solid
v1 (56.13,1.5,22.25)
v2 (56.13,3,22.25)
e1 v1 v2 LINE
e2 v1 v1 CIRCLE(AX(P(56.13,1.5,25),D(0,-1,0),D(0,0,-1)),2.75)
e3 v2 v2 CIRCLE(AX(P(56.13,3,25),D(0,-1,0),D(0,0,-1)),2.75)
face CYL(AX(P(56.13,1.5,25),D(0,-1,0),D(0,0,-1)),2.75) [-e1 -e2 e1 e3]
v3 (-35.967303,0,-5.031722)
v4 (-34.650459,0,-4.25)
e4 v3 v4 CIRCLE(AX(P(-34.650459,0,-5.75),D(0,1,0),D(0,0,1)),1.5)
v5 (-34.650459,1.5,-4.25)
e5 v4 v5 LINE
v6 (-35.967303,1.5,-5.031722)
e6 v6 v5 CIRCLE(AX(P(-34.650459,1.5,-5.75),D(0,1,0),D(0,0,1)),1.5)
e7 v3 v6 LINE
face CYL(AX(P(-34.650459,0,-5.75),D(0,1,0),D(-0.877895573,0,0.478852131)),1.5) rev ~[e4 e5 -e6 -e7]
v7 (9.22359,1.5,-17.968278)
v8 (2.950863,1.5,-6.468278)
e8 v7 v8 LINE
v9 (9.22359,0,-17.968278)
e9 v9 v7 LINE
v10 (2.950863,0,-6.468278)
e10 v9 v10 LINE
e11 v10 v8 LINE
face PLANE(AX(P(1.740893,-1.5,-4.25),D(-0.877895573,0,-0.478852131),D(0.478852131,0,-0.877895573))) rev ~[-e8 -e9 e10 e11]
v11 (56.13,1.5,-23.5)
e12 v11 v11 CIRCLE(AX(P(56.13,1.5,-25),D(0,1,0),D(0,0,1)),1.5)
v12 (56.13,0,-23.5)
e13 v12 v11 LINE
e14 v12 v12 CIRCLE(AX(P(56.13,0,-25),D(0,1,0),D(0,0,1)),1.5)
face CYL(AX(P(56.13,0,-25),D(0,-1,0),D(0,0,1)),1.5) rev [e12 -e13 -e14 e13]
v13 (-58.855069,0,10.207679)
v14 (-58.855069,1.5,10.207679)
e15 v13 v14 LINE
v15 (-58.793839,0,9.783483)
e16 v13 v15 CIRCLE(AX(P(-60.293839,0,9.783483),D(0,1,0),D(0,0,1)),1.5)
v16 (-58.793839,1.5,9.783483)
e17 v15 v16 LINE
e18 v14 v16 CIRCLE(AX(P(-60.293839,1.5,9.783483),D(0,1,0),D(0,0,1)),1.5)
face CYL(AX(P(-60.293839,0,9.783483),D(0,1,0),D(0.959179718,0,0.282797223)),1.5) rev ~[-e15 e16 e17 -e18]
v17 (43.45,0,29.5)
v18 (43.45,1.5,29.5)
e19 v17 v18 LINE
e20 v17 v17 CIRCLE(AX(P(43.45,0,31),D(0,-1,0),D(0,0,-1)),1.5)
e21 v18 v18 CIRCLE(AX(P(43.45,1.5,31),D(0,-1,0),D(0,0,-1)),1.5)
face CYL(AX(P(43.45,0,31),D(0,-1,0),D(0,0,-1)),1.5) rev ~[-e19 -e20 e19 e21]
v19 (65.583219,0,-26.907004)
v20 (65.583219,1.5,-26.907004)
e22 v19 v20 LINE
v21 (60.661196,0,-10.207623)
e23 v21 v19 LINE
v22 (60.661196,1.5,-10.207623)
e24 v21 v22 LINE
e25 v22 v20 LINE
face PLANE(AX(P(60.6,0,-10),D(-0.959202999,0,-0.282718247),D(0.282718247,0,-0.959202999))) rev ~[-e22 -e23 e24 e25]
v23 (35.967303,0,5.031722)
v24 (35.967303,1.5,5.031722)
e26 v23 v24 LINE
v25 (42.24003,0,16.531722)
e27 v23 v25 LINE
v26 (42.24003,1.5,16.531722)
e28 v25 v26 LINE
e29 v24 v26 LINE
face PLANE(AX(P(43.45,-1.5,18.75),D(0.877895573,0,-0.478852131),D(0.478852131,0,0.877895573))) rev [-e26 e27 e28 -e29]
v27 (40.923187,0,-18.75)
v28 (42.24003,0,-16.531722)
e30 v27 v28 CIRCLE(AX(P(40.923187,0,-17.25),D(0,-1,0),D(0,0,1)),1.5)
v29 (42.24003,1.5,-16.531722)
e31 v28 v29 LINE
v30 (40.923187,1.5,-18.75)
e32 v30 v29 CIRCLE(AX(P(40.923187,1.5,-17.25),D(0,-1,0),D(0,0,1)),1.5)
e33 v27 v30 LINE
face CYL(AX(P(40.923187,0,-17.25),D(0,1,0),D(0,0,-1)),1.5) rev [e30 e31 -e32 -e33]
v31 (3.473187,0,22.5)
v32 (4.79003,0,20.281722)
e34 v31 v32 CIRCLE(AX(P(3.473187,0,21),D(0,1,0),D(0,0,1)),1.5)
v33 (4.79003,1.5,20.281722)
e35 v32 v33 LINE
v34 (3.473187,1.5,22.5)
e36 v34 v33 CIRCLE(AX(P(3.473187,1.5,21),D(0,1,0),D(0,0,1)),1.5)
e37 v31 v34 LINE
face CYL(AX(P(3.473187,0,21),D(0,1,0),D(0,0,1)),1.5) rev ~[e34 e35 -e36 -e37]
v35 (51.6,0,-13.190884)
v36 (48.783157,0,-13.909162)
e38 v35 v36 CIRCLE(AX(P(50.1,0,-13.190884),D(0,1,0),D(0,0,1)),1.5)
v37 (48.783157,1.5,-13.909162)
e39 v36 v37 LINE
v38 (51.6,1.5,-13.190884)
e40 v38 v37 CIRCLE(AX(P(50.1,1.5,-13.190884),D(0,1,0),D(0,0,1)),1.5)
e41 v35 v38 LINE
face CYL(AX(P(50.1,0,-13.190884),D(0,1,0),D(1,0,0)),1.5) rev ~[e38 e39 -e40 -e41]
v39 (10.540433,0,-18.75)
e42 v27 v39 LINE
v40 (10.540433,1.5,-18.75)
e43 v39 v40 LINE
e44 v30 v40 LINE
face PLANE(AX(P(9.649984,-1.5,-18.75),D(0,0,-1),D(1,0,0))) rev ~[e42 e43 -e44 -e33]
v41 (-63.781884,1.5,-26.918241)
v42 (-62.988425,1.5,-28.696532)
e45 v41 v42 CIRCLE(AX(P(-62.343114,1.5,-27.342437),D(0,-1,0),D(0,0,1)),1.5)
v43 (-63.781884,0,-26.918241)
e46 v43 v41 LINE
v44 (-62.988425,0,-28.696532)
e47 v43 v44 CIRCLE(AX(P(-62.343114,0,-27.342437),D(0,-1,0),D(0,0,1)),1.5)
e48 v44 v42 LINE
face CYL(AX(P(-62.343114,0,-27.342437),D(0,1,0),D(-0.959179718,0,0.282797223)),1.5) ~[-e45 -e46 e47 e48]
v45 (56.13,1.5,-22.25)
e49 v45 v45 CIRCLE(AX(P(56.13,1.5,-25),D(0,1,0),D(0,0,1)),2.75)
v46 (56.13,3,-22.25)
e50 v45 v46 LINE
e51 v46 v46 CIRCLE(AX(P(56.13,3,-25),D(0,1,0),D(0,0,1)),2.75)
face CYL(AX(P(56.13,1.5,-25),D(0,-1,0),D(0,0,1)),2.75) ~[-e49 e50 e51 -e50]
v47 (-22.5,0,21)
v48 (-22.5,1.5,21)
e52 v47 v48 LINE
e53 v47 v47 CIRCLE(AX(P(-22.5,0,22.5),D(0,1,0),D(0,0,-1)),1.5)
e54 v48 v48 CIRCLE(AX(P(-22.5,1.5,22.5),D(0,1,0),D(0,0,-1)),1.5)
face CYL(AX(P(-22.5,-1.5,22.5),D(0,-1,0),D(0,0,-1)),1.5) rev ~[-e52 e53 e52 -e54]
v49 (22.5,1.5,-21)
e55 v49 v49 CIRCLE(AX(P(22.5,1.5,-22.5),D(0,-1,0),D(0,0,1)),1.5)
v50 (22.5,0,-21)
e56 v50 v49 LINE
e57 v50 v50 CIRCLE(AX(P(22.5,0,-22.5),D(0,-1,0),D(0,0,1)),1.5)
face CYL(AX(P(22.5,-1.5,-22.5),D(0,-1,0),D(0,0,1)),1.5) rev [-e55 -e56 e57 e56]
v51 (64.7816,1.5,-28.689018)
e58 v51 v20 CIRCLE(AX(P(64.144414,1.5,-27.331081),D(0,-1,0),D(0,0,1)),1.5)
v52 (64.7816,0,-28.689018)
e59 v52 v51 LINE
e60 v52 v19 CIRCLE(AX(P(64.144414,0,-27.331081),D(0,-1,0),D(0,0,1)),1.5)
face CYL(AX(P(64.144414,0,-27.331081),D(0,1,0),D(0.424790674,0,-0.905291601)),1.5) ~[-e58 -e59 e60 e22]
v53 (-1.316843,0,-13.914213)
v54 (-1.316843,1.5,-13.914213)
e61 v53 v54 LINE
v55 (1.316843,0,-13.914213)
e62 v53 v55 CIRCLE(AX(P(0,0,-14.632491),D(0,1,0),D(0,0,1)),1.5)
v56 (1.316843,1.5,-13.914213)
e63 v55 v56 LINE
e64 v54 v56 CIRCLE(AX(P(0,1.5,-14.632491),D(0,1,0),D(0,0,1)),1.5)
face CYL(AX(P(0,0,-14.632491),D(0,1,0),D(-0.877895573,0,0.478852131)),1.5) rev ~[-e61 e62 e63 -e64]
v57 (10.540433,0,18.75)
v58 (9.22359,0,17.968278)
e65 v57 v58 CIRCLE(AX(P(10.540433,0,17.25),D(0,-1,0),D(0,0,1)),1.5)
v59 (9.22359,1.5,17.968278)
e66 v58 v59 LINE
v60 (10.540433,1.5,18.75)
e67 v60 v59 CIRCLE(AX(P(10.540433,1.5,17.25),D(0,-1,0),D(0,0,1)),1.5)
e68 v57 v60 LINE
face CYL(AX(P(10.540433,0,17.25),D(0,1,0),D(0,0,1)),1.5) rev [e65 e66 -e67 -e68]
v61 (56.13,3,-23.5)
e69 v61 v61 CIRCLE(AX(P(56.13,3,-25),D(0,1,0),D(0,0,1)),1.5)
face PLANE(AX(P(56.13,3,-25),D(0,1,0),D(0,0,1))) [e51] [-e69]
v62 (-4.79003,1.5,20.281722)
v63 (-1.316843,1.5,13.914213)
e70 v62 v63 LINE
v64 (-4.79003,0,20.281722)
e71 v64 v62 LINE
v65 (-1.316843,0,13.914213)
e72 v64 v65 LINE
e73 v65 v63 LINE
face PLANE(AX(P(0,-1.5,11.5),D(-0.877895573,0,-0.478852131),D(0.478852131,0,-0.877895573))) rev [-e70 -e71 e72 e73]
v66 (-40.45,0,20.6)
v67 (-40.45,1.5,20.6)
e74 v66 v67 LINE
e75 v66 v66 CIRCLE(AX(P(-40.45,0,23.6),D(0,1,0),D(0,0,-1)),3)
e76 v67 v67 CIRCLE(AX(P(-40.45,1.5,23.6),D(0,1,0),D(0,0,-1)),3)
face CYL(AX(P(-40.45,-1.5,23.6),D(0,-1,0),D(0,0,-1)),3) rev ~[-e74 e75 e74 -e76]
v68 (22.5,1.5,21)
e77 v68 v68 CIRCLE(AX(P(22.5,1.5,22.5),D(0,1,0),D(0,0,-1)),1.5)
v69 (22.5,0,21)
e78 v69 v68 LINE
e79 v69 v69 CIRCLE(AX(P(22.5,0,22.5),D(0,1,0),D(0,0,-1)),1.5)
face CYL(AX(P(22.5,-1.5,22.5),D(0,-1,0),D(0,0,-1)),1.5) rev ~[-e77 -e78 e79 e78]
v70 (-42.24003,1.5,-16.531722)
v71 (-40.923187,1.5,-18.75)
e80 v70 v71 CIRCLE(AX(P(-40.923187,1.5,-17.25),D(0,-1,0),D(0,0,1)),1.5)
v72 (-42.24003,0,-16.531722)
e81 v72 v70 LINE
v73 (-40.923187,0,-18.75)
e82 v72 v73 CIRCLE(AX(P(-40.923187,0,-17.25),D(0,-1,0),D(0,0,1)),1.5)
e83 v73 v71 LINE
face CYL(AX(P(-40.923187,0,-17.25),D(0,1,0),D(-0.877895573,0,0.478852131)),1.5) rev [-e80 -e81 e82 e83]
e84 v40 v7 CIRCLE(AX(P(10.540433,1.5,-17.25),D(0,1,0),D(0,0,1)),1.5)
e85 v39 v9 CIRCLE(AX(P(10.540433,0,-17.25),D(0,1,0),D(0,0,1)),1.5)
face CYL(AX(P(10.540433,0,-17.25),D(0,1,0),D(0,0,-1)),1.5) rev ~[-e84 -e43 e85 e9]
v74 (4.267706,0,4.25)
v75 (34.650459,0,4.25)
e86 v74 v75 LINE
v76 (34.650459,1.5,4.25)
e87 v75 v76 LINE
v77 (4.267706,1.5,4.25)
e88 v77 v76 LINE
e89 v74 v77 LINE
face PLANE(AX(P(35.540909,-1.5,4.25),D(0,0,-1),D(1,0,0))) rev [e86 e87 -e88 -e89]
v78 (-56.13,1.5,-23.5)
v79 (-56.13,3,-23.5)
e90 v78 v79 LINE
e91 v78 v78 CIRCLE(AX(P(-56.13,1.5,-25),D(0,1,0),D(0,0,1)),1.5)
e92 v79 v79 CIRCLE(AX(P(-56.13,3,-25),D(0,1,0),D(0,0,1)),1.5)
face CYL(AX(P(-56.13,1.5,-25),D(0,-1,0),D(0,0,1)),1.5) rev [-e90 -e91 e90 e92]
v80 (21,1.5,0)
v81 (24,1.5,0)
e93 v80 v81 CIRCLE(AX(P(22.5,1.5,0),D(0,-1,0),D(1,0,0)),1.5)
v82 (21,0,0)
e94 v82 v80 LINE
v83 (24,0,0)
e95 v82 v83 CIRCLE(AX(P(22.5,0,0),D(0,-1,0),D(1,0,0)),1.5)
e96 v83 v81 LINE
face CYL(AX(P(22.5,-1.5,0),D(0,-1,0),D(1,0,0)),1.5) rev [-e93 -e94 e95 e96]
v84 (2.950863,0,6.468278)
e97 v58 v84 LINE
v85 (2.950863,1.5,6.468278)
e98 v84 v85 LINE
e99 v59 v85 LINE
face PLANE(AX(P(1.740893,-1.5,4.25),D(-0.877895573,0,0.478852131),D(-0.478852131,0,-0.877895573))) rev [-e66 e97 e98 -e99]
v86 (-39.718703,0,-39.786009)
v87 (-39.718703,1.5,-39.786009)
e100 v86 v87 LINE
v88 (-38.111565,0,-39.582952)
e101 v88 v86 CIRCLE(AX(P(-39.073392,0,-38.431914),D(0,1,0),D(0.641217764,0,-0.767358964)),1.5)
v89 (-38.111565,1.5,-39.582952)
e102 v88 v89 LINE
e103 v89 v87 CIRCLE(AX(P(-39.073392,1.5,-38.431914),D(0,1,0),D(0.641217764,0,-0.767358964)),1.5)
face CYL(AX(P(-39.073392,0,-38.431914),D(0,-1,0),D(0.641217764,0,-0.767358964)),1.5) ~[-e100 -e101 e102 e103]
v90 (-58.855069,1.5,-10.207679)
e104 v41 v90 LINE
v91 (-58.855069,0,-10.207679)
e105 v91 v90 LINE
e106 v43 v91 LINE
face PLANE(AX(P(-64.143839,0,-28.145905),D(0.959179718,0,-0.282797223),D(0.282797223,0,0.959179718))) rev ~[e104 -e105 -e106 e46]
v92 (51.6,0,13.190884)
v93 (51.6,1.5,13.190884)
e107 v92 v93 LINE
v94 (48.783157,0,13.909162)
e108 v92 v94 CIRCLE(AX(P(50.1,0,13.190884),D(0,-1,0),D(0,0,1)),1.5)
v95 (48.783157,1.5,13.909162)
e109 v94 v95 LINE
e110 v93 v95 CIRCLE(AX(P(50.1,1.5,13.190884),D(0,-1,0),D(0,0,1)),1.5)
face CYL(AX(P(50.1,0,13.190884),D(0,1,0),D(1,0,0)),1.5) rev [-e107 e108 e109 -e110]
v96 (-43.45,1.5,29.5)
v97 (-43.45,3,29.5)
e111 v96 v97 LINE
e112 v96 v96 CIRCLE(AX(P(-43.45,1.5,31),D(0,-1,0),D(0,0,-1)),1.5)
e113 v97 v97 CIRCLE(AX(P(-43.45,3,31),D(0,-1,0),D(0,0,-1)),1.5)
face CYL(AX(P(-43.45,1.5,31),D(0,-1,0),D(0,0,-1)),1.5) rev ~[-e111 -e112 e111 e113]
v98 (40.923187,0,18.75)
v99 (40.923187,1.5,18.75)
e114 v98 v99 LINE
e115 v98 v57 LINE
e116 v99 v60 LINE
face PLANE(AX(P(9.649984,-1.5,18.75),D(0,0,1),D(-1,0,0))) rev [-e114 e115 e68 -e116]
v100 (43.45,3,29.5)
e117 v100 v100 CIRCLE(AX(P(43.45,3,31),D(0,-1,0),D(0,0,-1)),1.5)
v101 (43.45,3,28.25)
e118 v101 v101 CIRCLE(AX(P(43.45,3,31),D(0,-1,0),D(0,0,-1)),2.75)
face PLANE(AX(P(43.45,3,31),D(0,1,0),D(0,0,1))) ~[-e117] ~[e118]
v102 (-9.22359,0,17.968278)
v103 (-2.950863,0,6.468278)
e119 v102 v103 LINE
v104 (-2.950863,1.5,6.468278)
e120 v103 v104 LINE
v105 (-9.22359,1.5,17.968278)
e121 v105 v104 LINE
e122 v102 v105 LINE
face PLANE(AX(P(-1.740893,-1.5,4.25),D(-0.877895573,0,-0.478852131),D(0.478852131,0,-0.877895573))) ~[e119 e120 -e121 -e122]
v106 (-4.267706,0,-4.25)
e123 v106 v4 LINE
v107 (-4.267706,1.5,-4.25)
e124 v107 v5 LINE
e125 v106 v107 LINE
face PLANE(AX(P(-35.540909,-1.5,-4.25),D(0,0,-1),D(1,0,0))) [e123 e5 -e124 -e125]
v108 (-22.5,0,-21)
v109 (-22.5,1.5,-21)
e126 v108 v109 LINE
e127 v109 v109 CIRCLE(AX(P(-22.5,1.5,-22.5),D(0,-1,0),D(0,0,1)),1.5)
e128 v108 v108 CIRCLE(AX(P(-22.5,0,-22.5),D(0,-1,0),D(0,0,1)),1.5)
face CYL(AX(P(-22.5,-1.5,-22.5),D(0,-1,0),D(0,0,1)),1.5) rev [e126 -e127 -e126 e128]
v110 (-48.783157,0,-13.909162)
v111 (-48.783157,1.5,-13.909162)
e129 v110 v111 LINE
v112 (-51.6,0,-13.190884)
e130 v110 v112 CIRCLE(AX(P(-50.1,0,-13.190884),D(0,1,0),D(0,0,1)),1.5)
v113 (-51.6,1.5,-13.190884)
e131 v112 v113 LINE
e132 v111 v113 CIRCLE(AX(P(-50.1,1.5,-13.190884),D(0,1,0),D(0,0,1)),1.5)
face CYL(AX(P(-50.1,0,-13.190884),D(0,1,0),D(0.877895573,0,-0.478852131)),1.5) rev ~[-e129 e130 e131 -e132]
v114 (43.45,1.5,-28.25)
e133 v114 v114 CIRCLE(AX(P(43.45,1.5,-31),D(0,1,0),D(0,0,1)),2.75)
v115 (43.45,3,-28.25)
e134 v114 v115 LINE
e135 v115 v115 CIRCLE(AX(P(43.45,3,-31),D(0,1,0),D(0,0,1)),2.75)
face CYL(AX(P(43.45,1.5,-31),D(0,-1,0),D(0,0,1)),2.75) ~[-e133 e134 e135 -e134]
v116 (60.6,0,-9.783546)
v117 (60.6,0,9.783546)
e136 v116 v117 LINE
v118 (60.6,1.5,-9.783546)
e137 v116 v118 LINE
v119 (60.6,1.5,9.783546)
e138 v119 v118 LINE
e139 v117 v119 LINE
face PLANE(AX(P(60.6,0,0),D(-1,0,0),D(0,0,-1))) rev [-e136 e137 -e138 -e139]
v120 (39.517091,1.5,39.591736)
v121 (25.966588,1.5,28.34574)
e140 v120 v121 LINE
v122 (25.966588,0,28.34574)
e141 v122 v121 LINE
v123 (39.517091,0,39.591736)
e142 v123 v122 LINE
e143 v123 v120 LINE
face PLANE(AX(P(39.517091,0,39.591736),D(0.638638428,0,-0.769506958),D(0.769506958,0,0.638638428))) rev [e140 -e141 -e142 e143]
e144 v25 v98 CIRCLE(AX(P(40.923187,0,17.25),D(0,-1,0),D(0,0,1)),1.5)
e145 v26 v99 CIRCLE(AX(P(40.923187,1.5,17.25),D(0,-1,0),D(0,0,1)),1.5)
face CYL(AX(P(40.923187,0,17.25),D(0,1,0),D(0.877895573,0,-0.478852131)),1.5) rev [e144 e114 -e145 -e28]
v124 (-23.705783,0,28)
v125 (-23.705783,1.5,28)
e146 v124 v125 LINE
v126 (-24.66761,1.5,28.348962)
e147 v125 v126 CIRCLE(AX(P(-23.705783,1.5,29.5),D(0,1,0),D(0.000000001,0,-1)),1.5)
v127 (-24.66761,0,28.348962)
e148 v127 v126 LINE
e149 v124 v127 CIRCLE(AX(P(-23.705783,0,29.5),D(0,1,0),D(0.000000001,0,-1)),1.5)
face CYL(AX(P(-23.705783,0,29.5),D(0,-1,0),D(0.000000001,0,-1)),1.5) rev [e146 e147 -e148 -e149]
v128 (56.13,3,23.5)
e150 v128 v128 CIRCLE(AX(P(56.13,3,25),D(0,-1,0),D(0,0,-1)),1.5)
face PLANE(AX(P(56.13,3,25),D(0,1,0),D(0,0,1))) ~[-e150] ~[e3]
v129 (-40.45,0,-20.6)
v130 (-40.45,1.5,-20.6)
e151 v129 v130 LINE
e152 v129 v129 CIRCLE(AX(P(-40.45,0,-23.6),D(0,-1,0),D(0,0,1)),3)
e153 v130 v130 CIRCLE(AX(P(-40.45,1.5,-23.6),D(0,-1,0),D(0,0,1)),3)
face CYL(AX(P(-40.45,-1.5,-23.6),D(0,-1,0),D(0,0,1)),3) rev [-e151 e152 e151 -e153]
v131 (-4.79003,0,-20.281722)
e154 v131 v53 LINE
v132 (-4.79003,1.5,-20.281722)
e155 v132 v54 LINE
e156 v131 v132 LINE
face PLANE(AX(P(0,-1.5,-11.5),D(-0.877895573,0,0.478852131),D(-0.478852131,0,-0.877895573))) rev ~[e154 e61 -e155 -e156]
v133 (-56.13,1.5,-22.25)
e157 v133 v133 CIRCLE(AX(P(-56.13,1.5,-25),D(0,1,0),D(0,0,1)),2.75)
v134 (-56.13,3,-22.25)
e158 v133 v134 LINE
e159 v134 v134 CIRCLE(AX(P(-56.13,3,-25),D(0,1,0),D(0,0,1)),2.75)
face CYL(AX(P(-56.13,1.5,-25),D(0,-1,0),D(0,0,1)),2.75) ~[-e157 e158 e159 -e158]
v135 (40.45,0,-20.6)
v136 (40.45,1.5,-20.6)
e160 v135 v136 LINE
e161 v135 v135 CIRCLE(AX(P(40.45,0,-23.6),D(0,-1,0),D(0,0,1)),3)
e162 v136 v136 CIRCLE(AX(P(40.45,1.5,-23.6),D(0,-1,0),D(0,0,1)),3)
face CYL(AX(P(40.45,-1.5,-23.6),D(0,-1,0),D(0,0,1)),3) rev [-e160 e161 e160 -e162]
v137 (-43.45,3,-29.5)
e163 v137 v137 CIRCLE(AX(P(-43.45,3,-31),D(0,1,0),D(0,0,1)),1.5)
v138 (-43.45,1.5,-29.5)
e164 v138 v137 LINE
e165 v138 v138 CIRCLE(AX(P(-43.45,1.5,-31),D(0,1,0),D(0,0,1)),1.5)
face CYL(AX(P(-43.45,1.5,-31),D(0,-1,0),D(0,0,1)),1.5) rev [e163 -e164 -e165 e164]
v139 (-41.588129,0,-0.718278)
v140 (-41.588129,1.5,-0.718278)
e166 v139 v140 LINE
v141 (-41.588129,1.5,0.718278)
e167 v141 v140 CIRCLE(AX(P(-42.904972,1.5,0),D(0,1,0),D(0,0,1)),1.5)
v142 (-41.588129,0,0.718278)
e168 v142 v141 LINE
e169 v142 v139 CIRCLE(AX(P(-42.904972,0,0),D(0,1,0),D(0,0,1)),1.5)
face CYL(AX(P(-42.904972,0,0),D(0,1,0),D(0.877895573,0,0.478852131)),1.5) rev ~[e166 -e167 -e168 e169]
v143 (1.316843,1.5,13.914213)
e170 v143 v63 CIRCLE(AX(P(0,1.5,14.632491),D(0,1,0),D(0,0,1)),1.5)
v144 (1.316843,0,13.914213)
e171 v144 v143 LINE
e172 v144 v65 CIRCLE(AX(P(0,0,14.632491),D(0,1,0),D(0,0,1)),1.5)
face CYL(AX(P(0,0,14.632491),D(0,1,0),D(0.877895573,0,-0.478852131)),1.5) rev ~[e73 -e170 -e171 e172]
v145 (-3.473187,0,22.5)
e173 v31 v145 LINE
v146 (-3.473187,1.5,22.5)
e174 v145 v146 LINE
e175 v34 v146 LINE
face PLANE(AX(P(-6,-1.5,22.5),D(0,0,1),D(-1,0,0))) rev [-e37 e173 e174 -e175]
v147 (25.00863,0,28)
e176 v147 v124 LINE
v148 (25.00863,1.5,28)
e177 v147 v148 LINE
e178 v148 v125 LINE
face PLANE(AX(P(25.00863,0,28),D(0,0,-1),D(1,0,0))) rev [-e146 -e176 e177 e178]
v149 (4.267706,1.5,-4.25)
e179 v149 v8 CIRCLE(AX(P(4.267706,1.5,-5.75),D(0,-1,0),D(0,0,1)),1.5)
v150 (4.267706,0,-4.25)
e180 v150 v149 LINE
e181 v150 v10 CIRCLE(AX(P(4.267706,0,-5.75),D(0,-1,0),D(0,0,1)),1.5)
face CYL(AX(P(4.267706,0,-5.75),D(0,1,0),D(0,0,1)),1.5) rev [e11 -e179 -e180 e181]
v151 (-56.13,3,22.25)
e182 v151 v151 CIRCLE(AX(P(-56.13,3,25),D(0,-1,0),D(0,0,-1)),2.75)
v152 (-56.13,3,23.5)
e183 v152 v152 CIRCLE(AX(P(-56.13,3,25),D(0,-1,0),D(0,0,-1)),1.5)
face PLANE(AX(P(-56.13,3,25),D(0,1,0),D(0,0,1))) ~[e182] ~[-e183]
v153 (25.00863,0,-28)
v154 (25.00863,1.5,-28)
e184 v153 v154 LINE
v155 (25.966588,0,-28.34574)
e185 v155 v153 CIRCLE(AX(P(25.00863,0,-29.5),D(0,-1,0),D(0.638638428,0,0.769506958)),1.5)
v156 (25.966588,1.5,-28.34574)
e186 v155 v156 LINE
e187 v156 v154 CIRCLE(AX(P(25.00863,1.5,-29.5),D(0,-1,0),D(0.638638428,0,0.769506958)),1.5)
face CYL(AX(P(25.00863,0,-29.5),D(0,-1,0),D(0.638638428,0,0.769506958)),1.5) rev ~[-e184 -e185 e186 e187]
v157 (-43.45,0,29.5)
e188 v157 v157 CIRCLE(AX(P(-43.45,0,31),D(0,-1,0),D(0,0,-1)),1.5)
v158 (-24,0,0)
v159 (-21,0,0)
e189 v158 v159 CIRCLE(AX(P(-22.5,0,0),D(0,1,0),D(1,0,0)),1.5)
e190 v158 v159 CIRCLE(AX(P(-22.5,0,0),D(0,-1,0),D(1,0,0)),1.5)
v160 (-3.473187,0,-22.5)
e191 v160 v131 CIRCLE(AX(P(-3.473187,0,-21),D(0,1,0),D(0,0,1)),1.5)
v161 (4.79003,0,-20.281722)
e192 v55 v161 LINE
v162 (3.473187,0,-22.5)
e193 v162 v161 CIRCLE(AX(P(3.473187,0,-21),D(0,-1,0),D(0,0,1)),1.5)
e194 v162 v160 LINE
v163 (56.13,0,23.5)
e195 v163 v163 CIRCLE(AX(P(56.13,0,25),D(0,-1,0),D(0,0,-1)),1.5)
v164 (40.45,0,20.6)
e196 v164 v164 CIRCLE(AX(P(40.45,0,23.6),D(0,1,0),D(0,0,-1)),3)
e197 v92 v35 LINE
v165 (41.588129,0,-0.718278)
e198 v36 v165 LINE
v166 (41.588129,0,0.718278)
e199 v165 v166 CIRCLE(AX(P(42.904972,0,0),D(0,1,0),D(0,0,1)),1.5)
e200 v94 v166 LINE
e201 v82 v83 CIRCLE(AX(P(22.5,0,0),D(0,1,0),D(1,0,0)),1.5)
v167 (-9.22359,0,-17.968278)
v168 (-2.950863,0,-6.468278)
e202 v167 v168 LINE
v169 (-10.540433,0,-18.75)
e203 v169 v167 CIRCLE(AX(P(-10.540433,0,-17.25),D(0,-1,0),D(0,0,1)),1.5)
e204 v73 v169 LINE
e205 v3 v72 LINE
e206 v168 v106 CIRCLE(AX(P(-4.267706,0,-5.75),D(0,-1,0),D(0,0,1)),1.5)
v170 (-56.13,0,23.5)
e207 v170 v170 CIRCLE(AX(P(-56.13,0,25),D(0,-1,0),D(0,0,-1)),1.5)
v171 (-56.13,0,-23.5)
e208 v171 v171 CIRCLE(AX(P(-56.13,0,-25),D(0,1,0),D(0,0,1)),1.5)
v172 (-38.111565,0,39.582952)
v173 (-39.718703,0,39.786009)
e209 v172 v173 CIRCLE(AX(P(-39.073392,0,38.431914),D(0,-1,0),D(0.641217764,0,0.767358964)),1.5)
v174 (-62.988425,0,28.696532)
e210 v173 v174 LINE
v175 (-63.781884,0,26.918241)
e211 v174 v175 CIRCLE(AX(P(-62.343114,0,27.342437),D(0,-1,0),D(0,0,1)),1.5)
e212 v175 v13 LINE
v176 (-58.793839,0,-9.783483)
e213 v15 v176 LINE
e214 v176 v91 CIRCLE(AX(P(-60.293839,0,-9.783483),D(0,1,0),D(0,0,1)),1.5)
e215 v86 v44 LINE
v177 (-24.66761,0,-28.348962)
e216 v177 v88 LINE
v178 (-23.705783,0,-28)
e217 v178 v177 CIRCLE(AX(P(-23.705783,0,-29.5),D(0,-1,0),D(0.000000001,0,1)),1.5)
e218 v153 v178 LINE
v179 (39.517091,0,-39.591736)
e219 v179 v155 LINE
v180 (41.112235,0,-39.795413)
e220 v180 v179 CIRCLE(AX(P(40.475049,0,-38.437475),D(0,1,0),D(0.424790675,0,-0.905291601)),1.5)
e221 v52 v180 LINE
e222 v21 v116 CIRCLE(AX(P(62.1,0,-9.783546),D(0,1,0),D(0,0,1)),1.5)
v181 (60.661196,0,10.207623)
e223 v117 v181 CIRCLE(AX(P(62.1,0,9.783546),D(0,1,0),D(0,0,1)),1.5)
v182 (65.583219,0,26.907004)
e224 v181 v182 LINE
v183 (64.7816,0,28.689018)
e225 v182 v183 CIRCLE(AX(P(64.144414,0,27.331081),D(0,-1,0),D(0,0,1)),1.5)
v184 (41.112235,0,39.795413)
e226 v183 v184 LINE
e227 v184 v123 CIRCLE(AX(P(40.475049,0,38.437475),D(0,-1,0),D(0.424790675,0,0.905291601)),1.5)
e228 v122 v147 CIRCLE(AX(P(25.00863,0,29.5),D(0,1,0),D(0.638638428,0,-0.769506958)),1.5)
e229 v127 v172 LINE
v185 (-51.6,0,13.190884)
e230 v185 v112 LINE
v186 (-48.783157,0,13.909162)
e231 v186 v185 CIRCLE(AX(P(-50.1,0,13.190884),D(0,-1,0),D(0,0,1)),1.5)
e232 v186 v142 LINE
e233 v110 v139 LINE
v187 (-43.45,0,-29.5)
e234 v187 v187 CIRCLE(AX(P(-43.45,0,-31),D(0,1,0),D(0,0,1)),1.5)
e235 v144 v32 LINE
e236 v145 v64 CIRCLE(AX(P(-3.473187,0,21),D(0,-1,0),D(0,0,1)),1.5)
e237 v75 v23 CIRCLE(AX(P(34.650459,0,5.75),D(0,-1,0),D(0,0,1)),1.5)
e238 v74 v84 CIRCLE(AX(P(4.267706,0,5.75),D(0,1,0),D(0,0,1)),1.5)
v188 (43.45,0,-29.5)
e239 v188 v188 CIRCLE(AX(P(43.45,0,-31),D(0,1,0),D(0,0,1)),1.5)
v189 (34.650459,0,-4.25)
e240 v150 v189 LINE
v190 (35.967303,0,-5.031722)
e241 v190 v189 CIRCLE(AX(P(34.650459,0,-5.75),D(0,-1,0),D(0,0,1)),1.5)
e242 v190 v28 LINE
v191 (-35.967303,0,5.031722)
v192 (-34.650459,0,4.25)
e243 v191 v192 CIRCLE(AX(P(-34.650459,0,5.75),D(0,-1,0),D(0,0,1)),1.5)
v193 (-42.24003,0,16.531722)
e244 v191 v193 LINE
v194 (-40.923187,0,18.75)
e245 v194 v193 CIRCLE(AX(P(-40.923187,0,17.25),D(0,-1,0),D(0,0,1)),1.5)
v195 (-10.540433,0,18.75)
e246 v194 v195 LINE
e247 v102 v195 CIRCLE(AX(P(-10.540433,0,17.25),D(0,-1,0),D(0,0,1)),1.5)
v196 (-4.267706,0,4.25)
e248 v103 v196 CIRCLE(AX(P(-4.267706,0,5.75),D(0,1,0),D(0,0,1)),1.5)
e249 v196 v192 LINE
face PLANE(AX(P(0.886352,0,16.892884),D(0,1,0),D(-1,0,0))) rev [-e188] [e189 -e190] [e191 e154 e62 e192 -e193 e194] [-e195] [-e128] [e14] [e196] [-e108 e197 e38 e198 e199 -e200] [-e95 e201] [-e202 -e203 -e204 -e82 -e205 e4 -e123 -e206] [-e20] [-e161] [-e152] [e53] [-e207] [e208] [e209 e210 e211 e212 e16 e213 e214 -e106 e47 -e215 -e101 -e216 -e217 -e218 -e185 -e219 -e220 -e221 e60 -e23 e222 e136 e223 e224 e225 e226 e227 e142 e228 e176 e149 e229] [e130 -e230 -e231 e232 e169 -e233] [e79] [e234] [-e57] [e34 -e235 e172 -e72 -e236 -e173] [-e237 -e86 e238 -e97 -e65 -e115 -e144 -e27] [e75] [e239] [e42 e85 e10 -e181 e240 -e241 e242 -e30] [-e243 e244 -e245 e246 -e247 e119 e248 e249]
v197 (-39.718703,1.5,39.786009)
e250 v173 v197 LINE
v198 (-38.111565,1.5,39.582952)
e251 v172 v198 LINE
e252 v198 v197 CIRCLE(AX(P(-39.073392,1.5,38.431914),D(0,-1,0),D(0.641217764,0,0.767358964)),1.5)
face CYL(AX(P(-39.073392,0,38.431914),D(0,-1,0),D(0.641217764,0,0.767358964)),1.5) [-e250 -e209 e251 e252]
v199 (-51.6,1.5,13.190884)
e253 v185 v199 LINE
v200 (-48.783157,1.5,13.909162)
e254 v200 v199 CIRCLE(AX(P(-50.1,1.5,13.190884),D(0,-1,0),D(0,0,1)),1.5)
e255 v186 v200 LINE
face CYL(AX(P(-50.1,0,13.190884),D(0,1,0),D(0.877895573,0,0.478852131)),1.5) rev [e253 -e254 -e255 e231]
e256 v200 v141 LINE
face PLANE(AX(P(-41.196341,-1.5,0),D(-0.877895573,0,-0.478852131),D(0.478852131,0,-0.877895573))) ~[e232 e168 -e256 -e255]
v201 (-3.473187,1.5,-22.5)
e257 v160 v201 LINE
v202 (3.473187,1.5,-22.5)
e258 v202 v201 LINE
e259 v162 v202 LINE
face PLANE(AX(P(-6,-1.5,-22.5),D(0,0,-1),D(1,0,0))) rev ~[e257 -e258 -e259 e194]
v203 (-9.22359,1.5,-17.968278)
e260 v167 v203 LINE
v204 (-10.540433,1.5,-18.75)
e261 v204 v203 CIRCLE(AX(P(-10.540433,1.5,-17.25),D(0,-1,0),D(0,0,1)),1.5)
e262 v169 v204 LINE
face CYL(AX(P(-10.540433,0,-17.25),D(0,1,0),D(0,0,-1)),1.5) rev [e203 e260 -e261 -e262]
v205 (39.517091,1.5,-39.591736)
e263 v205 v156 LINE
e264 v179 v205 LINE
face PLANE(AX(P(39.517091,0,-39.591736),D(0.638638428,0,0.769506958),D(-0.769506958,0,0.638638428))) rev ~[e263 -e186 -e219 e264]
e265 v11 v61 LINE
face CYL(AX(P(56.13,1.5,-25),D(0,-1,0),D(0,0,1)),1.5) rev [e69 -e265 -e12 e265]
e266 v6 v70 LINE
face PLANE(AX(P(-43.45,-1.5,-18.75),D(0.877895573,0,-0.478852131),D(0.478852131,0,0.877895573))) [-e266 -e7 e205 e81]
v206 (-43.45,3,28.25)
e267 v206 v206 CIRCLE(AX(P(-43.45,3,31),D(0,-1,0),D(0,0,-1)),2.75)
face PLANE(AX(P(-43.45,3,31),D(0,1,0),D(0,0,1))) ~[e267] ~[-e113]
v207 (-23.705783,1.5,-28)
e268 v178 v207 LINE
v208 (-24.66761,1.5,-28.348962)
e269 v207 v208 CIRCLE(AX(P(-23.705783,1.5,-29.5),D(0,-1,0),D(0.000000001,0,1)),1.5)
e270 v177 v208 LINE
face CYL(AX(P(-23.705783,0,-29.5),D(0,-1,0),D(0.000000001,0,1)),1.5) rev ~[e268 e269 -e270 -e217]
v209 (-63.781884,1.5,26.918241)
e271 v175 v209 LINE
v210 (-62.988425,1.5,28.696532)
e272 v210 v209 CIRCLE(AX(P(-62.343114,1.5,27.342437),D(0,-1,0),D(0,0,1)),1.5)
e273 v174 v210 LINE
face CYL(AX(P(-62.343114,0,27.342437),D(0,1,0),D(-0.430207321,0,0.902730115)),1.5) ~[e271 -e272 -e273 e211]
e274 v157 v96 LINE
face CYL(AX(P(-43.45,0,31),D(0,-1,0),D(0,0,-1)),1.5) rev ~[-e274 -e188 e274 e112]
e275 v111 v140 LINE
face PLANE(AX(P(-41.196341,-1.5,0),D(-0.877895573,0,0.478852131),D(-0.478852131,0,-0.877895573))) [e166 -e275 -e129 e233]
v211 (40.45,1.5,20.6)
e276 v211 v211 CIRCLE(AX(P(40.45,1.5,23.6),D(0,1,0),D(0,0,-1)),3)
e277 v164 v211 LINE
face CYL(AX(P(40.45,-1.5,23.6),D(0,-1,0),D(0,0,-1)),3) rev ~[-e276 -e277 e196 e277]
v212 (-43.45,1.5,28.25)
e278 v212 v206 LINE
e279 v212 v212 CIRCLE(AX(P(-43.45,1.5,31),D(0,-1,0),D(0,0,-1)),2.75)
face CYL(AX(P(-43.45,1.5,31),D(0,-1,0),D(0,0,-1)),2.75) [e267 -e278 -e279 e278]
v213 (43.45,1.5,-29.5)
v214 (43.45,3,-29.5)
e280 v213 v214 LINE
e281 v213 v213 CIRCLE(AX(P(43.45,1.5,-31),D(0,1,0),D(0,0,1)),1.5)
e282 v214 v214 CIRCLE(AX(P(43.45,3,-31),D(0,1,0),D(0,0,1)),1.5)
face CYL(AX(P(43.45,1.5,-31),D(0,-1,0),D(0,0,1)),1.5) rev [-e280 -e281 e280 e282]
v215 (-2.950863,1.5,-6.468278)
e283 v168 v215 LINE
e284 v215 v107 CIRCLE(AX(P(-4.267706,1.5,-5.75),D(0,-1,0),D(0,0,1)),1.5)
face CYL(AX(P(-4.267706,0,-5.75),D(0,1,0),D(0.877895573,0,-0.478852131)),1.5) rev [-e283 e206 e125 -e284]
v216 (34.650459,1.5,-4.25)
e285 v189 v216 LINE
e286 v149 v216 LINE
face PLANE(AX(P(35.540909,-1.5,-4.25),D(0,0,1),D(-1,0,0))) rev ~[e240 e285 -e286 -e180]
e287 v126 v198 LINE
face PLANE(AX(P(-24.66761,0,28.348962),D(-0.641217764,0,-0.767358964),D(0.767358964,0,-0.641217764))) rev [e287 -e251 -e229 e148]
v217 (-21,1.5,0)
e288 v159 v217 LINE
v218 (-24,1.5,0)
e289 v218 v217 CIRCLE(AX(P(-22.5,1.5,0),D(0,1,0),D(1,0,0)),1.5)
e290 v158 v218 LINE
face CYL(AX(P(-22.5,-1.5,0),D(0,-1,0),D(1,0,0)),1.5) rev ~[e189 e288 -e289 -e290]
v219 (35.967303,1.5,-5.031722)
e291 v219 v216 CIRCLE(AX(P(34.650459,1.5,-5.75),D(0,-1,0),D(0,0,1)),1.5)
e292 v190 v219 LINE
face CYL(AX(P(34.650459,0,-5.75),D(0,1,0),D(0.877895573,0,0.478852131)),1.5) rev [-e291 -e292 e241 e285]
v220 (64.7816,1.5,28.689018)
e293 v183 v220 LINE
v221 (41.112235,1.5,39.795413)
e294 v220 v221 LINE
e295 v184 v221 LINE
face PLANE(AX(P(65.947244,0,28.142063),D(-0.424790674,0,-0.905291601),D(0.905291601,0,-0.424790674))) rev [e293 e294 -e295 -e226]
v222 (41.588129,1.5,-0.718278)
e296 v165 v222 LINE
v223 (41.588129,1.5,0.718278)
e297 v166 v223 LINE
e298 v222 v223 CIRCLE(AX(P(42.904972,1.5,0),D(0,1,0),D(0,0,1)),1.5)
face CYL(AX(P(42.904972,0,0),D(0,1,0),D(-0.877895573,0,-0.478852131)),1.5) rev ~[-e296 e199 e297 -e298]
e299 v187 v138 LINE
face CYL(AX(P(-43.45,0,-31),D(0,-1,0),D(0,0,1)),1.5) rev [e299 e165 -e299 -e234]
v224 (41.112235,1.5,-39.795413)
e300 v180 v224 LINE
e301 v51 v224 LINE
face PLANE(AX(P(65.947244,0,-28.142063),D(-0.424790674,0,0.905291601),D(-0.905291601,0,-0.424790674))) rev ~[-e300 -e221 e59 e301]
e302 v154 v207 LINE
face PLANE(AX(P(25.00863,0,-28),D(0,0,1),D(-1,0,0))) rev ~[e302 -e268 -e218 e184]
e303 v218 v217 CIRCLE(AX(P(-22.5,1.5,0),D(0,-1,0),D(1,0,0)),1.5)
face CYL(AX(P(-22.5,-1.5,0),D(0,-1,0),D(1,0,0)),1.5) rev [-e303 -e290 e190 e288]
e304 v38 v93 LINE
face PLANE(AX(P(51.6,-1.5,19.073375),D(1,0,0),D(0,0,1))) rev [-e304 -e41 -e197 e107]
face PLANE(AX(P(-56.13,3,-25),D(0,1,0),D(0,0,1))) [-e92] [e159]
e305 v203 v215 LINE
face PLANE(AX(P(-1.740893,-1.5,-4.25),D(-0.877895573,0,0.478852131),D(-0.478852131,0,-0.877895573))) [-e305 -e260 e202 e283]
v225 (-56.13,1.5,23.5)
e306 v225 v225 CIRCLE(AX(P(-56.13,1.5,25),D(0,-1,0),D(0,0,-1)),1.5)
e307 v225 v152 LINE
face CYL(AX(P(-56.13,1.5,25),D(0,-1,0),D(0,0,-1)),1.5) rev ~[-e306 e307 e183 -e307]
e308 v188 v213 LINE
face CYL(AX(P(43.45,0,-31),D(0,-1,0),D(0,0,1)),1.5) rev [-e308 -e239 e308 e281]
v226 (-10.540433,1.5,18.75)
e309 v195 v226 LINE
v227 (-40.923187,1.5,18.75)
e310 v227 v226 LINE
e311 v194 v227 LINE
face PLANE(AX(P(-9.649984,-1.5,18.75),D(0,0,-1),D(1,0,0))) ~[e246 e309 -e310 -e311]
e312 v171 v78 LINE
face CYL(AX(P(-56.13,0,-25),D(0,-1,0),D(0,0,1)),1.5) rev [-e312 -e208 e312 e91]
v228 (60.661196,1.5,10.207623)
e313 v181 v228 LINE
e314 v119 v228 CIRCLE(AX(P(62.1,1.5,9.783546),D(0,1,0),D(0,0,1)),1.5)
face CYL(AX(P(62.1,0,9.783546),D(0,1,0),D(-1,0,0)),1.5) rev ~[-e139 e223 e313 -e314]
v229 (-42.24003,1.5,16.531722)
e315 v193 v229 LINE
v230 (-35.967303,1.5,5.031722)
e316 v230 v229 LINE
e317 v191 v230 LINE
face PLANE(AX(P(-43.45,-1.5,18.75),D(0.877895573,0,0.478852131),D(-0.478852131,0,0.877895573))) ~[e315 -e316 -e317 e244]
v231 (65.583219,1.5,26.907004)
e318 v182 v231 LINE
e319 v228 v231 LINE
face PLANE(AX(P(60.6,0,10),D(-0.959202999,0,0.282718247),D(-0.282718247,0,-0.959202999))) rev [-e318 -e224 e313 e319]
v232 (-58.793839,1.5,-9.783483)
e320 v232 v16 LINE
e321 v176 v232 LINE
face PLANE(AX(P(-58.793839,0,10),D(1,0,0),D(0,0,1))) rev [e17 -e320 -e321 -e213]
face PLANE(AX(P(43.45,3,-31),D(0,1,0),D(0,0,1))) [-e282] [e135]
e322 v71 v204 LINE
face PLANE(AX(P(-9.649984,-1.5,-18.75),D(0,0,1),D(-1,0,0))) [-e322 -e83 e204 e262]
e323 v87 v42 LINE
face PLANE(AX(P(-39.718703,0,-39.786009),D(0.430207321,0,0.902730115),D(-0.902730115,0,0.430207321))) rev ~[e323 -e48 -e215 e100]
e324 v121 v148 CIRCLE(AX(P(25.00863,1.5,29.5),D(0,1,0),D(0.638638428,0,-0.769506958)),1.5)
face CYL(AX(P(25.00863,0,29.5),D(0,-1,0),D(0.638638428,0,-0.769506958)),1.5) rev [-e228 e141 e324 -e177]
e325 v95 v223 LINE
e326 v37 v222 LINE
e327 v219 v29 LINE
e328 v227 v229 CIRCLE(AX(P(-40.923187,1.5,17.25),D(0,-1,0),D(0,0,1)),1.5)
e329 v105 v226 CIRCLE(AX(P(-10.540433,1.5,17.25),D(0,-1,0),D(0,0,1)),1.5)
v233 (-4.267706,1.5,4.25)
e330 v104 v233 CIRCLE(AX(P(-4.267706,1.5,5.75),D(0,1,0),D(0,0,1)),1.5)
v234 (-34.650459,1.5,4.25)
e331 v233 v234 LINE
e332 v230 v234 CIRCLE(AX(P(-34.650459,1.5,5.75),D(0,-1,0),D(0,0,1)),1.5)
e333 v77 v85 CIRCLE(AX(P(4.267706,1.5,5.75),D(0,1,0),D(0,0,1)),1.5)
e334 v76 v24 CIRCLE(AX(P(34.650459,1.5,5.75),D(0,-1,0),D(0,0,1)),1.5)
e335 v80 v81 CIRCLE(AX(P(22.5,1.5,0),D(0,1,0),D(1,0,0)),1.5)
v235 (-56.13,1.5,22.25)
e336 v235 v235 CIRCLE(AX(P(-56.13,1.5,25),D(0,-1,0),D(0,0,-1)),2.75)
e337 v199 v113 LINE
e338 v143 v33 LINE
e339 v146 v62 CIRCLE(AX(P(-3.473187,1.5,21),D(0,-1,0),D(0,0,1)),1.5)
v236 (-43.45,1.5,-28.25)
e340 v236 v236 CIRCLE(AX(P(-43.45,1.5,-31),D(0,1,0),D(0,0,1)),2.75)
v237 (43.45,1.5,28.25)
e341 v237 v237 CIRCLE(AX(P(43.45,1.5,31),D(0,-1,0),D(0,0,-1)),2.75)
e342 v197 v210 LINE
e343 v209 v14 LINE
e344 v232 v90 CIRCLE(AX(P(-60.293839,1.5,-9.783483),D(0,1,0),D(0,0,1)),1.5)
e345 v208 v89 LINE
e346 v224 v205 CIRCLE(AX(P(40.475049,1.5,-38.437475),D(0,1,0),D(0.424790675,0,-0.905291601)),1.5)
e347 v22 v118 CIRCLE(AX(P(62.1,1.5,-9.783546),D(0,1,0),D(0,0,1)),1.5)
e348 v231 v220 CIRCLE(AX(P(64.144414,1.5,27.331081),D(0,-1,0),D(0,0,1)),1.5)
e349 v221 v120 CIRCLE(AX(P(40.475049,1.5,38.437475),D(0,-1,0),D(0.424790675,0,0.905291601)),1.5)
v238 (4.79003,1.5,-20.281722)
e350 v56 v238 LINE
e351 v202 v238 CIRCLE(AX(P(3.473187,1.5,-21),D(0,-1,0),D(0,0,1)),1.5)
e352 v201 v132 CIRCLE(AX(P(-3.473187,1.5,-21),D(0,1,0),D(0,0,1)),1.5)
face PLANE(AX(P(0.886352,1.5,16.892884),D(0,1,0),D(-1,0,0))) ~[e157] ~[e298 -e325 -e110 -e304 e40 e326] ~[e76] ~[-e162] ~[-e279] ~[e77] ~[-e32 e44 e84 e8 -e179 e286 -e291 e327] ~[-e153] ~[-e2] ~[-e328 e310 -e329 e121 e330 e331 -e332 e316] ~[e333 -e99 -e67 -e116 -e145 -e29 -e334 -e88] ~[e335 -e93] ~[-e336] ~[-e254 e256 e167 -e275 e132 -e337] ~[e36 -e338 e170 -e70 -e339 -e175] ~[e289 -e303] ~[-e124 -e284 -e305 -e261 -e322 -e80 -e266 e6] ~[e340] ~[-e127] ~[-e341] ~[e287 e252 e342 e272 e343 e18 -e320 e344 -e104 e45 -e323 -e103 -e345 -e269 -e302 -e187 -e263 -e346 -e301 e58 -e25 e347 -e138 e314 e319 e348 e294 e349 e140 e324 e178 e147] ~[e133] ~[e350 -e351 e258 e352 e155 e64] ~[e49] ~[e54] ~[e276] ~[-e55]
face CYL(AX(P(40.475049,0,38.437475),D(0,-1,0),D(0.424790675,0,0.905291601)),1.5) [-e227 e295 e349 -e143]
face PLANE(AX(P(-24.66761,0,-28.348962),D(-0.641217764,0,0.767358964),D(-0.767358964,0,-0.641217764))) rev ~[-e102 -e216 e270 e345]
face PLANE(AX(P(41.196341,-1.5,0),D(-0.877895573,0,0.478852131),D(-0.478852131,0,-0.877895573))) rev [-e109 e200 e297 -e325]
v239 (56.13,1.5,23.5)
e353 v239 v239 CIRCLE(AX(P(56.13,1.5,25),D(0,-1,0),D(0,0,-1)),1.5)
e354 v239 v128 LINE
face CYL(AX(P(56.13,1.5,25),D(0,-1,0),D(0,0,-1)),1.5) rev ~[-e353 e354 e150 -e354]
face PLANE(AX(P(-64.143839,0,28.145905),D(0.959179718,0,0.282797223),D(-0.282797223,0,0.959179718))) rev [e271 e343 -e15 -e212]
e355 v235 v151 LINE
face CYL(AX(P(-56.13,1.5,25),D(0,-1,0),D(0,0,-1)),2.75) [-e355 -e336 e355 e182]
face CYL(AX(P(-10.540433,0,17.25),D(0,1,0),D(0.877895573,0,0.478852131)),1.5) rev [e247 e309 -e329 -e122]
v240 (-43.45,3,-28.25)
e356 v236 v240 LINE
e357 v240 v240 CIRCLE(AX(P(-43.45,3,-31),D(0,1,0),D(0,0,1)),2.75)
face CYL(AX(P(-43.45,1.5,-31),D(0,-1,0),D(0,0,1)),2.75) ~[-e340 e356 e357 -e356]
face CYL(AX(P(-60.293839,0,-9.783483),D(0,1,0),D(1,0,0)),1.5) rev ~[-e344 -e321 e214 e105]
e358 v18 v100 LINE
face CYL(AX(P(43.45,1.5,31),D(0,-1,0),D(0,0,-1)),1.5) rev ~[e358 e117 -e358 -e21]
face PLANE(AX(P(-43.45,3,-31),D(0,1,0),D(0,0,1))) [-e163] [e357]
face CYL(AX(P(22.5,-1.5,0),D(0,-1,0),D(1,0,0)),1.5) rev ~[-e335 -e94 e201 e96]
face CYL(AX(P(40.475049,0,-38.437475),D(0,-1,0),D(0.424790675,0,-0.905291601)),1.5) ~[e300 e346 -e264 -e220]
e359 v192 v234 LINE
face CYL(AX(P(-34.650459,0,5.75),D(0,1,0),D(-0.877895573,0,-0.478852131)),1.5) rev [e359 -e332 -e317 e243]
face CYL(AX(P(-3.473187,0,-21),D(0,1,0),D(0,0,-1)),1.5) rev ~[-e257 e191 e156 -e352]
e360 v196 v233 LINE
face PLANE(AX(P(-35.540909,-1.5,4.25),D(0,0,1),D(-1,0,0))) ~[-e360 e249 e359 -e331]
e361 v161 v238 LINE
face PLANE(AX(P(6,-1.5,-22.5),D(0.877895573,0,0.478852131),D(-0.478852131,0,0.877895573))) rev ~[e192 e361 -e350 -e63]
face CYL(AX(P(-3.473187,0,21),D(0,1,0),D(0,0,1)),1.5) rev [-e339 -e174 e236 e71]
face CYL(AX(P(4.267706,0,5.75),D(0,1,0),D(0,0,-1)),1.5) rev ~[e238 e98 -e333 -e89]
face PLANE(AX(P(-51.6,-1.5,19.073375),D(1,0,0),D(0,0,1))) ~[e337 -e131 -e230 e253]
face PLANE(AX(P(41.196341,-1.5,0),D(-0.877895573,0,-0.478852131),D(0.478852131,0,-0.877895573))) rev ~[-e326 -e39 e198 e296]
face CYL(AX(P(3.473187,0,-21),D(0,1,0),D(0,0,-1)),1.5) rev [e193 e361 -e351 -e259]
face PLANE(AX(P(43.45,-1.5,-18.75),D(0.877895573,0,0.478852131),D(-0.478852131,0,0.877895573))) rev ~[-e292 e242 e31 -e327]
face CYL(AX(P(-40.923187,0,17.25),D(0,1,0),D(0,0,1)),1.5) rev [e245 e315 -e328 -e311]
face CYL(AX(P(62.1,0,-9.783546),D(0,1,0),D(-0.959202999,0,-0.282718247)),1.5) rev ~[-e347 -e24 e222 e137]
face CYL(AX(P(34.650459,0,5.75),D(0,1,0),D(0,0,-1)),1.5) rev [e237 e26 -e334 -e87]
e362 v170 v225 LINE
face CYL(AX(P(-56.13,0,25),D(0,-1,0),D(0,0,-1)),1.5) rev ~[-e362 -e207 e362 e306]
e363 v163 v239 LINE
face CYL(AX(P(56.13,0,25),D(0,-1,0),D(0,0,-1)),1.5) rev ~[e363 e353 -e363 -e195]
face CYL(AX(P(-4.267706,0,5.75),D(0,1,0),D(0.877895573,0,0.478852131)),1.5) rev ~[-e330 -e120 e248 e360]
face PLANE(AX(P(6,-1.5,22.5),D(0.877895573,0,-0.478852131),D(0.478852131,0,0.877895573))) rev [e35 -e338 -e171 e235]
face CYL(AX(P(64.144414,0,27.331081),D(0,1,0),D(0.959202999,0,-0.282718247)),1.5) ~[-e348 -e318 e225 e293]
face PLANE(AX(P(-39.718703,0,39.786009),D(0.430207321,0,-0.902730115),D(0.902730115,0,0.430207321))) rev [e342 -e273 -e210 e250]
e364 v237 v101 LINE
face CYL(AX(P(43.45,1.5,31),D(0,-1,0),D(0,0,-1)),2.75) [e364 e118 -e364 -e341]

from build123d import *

# Parameters (mm, degrees)
SKETCH1_R               = 1.5
BOSS_EXTRUDE1_DEPTH     = 1.5
CUT_EXTRUDE3_DEPTH      = 78.112196707
CUT_EXTRUDE3_DEPTH_BACK = 1.5
SKETCH2_R               = 3
SKETCH2_R_2             = 1.5
FILLET1_R               = 1.5
FILLET2_R               = 1.5
FILLET3_R               = 1.5
FILLET4_R               = 1.5
SKETCH3_R               = 2.75
SKETCH3_R_2             = 1.5
BOSS_EXTRUDE2_DEPTH     = 1.5


with BuildPart() as part:
    # Sketch1 → Boss-Extrude1 (new body)
    with BuildSketch(Plane(origin=(0, 0, 0), x_dir=(1, 0, 0), z_dir=(0, 1, 0))):
        with BuildLine():
            Line((-39.718703085, 39.786008686), (-64.143839052, 28.145904827))
            Line((-64.143839052, 28.145904827), (-58.793839052, 10))
            Line((-58.793839052, 10), (-58.793839052, 0))
            Line((-58.793839052, 0), (60.6, 0))
            Line((60.6, 0), (60.6, 10))
            Line((60.6, 10), (65.947243643, 28.142062598))
            Line((65.947243643, 28.142062598), (41.112235129, 39.795412747))
            ThreePointArc((41.112235129, 39.795412747), (40.285063102, 39.92539514), (39.517091476, 39.591735783))
            Line((39.517091476, 39.591735783), (25.966587834, 28.345739563))
            ThreePointArc((25.966587834, 28.345739563), (25.517849862, 28.089079971), (25.008630192, 28))
            Line((25.008630192, 28), (-23.705783083, 28))
            ThreePointArc((-23.705783083, 28), (-24.217369993, 28.089936585), (-24.667609729, 28.348961555))
            Line((-24.667609729, 28.348961555), (-38.111565458, 39.582951958))
            ThreePointArc((-38.111565458, 39.582951958), (-38.885366706, 39.920082337), (-39.718703085, 39.786008686))
        make_face()
        with Locations(Location((-43.45, 31, 0), (0, 0, 270))):
            Circle(SKETCH1_R, mode=Mode.SUBTRACT)
        with Locations(Location((-56.13, 25, 0), (0, 0, 270))):
            Circle(SKETCH1_R, mode=Mode.SUBTRACT)
        with Locations(Location((56.13, 25, 0), (0, 0, 270))):
            Circle(SKETCH1_R, mode=Mode.SUBTRACT)
        with Locations(Location((43.45, 31, 0), (0, 0, 270))):
            Circle(SKETCH1_R, mode=Mode.SUBTRACT)
    extrude(amount=BOSS_EXTRUDE1_DEPTH)

    # Sketch2 → Cut-Extrude3 (cut, two sides: drawn at the far end of the back side and taken through both)
    with BuildSketch(Plane(origin=(0, 0, 0), x_dir=(1, 0, 0), z_dir=(0, 1, 0)).offset(-CUT_EXTRUDE3_DEPTH_BACK)):
        with Locations(Location((40.45, 23.6, 0), (0, 0, 270))):
            Circle(SKETCH2_R)
        with Locations(Location((-40.45, 23.6, 0), (0, 0, 270))):
            Circle(SKETCH2_R)
        with Locations(Location((-22.5, 22.5, 0), (0, 0, 270))):
            Circle(SKETCH2_R_2)
        with Locations(Location((22.5, 22.5, 0), (0, 0, 270))):
            Circle(SKETCH2_R_2)
        Polygon((-6, 22.5), (6, 22.5), (0, 11.5), align=None)
        Polygon((1.740892766, 4.25), (9.649983676, 18.75), (43.45, 18.75), (35.540909091, 4.25), align=None)
        Polygon((-43.45, 18.75), (-35.540909091, 4.25), (-1.740892766, 4.25), (-9.649983676, 18.75), align=None)
        Polygon((41.196340782, 0), (51.6, 19.073375233), (51.6, 0), align=None)
        Polygon((-51.6, 0), (-41.196340782, 0), (-51.6, 19.073375233), align=None)
        with BuildLine():
            Line((21, 0), (24, 0))
            ThreePointArc((24, 0), (22.5, 1.5), (21, 0))
        make_face()
        with BuildLine():
            Line((-24, 0), (-21, 0))
            ThreePointArc((-21, 0), (-22.5, 1.5), (-24, 0))
        make_face()
    extrude(amount=CUT_EXTRUDE3_DEPTH + CUT_EXTRUDE3_DEPTH_BACK, mode=Mode.SUBTRACT)

    # Mirror1: part across plane


with BuildPart() as part_1:
    add(part.part)
    add(part.part.mirror(Plane.XY))

    # Fillet1
    fillet1_edges = [part_1.edges().sort_by_distance(p)[0] for p in [
        (1.740892766, 0.75, -4.25),
        (35.540909091, 0.75, -4.25),
        (43.45, 0.75, -18.75),
        (9.649983676, 0.75, -18.75),
        (1.740892766, 0.75, 4.25),
        (35.540909091, 0.75, 4.25),
        (43.45, 0.75, 18.75),
        (9.649983676, 0.75, 18.75),
        (-9.649983676, 0.75, 18.75),
        (-43.45, 0.75, 18.75),
        (-35.540909091, 0.75, 4.25),
        (-1.740892766, 0.75, 4.25),
        (-9.649983676, 0.75, -18.75),
        (-43.45, 0.75, -18.75),
        (-35.540909091, 0.75, -4.25),
        (-1.740892766, 0.75, -4.25),
    ]]
    fillet(fillet1_edges, radius=FILLET1_R)

    # Fillet2
    fillet2_edges = [part_1.edges().sort_by_distance(p)[0] for p in [
        (51.6, 0.75, -19.073375233),
        (-51.6, 0.75, -19.073375233),
        (41.196340782, 0.75, 0),
        (-51.6, 0.75, 19.073375233),
        (-41.196340782, 0.75, 0),
        (51.6, 0.75, 19.073375233),
    ]]
    fillet(fillet2_edges, radius=FILLET2_R)

    # Fillet3
    fillet3_edges = [part_1.edges().sort_by_distance(p)[0] for p in [
        (-6, 0.75, -22.5),
        (0, 0.75, -11.5),
        (6, 0.75, -22.5),
        (-6, 0.75, 22.5),
        (0, 0.75, 11.5),
        (6, 0.75, 22.5),
    ]]
    fillet(fillet3_edges, radius=FILLET3_R)

    # Fillet4
    fillet4_edges = [part_1.edges().sort_by_distance(p)[0] for p in [
        (-58.793839052, 0.75, 10),
        (60.6, 0.75, 10),
        (65.947243643, 0.75, 28.142062598),
        (-64.143839052, 0.75, 28.145904827),
        (-64.143839052, 0.75, -28.145904827),
        (65.947243643, 0.75, -28.142062598),
        (60.6, 0.75, -10),
        (-58.793839052, 0.75, -10),
    ]]
    fillet(fillet4_edges, radius=FILLET4_R)

    # Sketch3 → Boss-Extrude2 (add)
    # profile 1 of 4: a face of its own
    with BuildSketch(Plane(origin=(0, 1.5, 0), x_dir=(1, 0, 0), z_dir=(0, 1, 0))):
        with Locations(Location((-56.13, 25, 0), (0, 0, 270))):
            Circle(SKETCH3_R)
        with Locations(Location((-56.13, 25, 0), (0, 0, 270))):
            Circle(SKETCH3_R_2, mode=Mode.SUBTRACT)
    # profile 2 of 4: a face of its own
    with BuildSketch(Plane(origin=(0, 1.5, 0), x_dir=(1, 0, 0), z_dir=(0, 1, 0))):
        with Locations(Location((-43.45, 31, 0), (0, 0, 270))):
            Circle(SKETCH3_R)
        with Locations(Location((-43.45, 31, 0), (0, 0, 270))):
            Circle(SKETCH3_R_2, mode=Mode.SUBTRACT)
    # profile 3 of 4: a face of its own
    with BuildSketch(Plane(origin=(0, 1.5, 0), x_dir=(1, 0, 0), z_dir=(0, 1, 0))):
        with Locations(Location((43.45, 31, 0), (0, 0, 270))):
            Circle(SKETCH3_R)
        with Locations(Location((43.45, 31, 0), (0, 0, 270))):
            Circle(SKETCH3_R_2, mode=Mode.SUBTRACT)
    # profile 4 of 4: a face of its own
    with BuildSketch(Plane(origin=(0, 1.5, 0), x_dir=(1, 0, 0), z_dir=(0, 1, 0))):
        with Locations(Location((56.13, 25, 0), (0, 0, 270))):
            Circle(SKETCH3_R)
        with Locations(Location((56.13, 25, 0), (0, 0, 270))):
            Circle(SKETCH3_R_2, mode=Mode.SUBTRACT)
    boss_extrude2 = extrude(amount=BOSS_EXTRUDE2_DEPTH)

    # Mirror2: Boss-Extrude2 across plane
    add(boss_extrude2.mirror(Plane.XY))


solid = part_1.part
